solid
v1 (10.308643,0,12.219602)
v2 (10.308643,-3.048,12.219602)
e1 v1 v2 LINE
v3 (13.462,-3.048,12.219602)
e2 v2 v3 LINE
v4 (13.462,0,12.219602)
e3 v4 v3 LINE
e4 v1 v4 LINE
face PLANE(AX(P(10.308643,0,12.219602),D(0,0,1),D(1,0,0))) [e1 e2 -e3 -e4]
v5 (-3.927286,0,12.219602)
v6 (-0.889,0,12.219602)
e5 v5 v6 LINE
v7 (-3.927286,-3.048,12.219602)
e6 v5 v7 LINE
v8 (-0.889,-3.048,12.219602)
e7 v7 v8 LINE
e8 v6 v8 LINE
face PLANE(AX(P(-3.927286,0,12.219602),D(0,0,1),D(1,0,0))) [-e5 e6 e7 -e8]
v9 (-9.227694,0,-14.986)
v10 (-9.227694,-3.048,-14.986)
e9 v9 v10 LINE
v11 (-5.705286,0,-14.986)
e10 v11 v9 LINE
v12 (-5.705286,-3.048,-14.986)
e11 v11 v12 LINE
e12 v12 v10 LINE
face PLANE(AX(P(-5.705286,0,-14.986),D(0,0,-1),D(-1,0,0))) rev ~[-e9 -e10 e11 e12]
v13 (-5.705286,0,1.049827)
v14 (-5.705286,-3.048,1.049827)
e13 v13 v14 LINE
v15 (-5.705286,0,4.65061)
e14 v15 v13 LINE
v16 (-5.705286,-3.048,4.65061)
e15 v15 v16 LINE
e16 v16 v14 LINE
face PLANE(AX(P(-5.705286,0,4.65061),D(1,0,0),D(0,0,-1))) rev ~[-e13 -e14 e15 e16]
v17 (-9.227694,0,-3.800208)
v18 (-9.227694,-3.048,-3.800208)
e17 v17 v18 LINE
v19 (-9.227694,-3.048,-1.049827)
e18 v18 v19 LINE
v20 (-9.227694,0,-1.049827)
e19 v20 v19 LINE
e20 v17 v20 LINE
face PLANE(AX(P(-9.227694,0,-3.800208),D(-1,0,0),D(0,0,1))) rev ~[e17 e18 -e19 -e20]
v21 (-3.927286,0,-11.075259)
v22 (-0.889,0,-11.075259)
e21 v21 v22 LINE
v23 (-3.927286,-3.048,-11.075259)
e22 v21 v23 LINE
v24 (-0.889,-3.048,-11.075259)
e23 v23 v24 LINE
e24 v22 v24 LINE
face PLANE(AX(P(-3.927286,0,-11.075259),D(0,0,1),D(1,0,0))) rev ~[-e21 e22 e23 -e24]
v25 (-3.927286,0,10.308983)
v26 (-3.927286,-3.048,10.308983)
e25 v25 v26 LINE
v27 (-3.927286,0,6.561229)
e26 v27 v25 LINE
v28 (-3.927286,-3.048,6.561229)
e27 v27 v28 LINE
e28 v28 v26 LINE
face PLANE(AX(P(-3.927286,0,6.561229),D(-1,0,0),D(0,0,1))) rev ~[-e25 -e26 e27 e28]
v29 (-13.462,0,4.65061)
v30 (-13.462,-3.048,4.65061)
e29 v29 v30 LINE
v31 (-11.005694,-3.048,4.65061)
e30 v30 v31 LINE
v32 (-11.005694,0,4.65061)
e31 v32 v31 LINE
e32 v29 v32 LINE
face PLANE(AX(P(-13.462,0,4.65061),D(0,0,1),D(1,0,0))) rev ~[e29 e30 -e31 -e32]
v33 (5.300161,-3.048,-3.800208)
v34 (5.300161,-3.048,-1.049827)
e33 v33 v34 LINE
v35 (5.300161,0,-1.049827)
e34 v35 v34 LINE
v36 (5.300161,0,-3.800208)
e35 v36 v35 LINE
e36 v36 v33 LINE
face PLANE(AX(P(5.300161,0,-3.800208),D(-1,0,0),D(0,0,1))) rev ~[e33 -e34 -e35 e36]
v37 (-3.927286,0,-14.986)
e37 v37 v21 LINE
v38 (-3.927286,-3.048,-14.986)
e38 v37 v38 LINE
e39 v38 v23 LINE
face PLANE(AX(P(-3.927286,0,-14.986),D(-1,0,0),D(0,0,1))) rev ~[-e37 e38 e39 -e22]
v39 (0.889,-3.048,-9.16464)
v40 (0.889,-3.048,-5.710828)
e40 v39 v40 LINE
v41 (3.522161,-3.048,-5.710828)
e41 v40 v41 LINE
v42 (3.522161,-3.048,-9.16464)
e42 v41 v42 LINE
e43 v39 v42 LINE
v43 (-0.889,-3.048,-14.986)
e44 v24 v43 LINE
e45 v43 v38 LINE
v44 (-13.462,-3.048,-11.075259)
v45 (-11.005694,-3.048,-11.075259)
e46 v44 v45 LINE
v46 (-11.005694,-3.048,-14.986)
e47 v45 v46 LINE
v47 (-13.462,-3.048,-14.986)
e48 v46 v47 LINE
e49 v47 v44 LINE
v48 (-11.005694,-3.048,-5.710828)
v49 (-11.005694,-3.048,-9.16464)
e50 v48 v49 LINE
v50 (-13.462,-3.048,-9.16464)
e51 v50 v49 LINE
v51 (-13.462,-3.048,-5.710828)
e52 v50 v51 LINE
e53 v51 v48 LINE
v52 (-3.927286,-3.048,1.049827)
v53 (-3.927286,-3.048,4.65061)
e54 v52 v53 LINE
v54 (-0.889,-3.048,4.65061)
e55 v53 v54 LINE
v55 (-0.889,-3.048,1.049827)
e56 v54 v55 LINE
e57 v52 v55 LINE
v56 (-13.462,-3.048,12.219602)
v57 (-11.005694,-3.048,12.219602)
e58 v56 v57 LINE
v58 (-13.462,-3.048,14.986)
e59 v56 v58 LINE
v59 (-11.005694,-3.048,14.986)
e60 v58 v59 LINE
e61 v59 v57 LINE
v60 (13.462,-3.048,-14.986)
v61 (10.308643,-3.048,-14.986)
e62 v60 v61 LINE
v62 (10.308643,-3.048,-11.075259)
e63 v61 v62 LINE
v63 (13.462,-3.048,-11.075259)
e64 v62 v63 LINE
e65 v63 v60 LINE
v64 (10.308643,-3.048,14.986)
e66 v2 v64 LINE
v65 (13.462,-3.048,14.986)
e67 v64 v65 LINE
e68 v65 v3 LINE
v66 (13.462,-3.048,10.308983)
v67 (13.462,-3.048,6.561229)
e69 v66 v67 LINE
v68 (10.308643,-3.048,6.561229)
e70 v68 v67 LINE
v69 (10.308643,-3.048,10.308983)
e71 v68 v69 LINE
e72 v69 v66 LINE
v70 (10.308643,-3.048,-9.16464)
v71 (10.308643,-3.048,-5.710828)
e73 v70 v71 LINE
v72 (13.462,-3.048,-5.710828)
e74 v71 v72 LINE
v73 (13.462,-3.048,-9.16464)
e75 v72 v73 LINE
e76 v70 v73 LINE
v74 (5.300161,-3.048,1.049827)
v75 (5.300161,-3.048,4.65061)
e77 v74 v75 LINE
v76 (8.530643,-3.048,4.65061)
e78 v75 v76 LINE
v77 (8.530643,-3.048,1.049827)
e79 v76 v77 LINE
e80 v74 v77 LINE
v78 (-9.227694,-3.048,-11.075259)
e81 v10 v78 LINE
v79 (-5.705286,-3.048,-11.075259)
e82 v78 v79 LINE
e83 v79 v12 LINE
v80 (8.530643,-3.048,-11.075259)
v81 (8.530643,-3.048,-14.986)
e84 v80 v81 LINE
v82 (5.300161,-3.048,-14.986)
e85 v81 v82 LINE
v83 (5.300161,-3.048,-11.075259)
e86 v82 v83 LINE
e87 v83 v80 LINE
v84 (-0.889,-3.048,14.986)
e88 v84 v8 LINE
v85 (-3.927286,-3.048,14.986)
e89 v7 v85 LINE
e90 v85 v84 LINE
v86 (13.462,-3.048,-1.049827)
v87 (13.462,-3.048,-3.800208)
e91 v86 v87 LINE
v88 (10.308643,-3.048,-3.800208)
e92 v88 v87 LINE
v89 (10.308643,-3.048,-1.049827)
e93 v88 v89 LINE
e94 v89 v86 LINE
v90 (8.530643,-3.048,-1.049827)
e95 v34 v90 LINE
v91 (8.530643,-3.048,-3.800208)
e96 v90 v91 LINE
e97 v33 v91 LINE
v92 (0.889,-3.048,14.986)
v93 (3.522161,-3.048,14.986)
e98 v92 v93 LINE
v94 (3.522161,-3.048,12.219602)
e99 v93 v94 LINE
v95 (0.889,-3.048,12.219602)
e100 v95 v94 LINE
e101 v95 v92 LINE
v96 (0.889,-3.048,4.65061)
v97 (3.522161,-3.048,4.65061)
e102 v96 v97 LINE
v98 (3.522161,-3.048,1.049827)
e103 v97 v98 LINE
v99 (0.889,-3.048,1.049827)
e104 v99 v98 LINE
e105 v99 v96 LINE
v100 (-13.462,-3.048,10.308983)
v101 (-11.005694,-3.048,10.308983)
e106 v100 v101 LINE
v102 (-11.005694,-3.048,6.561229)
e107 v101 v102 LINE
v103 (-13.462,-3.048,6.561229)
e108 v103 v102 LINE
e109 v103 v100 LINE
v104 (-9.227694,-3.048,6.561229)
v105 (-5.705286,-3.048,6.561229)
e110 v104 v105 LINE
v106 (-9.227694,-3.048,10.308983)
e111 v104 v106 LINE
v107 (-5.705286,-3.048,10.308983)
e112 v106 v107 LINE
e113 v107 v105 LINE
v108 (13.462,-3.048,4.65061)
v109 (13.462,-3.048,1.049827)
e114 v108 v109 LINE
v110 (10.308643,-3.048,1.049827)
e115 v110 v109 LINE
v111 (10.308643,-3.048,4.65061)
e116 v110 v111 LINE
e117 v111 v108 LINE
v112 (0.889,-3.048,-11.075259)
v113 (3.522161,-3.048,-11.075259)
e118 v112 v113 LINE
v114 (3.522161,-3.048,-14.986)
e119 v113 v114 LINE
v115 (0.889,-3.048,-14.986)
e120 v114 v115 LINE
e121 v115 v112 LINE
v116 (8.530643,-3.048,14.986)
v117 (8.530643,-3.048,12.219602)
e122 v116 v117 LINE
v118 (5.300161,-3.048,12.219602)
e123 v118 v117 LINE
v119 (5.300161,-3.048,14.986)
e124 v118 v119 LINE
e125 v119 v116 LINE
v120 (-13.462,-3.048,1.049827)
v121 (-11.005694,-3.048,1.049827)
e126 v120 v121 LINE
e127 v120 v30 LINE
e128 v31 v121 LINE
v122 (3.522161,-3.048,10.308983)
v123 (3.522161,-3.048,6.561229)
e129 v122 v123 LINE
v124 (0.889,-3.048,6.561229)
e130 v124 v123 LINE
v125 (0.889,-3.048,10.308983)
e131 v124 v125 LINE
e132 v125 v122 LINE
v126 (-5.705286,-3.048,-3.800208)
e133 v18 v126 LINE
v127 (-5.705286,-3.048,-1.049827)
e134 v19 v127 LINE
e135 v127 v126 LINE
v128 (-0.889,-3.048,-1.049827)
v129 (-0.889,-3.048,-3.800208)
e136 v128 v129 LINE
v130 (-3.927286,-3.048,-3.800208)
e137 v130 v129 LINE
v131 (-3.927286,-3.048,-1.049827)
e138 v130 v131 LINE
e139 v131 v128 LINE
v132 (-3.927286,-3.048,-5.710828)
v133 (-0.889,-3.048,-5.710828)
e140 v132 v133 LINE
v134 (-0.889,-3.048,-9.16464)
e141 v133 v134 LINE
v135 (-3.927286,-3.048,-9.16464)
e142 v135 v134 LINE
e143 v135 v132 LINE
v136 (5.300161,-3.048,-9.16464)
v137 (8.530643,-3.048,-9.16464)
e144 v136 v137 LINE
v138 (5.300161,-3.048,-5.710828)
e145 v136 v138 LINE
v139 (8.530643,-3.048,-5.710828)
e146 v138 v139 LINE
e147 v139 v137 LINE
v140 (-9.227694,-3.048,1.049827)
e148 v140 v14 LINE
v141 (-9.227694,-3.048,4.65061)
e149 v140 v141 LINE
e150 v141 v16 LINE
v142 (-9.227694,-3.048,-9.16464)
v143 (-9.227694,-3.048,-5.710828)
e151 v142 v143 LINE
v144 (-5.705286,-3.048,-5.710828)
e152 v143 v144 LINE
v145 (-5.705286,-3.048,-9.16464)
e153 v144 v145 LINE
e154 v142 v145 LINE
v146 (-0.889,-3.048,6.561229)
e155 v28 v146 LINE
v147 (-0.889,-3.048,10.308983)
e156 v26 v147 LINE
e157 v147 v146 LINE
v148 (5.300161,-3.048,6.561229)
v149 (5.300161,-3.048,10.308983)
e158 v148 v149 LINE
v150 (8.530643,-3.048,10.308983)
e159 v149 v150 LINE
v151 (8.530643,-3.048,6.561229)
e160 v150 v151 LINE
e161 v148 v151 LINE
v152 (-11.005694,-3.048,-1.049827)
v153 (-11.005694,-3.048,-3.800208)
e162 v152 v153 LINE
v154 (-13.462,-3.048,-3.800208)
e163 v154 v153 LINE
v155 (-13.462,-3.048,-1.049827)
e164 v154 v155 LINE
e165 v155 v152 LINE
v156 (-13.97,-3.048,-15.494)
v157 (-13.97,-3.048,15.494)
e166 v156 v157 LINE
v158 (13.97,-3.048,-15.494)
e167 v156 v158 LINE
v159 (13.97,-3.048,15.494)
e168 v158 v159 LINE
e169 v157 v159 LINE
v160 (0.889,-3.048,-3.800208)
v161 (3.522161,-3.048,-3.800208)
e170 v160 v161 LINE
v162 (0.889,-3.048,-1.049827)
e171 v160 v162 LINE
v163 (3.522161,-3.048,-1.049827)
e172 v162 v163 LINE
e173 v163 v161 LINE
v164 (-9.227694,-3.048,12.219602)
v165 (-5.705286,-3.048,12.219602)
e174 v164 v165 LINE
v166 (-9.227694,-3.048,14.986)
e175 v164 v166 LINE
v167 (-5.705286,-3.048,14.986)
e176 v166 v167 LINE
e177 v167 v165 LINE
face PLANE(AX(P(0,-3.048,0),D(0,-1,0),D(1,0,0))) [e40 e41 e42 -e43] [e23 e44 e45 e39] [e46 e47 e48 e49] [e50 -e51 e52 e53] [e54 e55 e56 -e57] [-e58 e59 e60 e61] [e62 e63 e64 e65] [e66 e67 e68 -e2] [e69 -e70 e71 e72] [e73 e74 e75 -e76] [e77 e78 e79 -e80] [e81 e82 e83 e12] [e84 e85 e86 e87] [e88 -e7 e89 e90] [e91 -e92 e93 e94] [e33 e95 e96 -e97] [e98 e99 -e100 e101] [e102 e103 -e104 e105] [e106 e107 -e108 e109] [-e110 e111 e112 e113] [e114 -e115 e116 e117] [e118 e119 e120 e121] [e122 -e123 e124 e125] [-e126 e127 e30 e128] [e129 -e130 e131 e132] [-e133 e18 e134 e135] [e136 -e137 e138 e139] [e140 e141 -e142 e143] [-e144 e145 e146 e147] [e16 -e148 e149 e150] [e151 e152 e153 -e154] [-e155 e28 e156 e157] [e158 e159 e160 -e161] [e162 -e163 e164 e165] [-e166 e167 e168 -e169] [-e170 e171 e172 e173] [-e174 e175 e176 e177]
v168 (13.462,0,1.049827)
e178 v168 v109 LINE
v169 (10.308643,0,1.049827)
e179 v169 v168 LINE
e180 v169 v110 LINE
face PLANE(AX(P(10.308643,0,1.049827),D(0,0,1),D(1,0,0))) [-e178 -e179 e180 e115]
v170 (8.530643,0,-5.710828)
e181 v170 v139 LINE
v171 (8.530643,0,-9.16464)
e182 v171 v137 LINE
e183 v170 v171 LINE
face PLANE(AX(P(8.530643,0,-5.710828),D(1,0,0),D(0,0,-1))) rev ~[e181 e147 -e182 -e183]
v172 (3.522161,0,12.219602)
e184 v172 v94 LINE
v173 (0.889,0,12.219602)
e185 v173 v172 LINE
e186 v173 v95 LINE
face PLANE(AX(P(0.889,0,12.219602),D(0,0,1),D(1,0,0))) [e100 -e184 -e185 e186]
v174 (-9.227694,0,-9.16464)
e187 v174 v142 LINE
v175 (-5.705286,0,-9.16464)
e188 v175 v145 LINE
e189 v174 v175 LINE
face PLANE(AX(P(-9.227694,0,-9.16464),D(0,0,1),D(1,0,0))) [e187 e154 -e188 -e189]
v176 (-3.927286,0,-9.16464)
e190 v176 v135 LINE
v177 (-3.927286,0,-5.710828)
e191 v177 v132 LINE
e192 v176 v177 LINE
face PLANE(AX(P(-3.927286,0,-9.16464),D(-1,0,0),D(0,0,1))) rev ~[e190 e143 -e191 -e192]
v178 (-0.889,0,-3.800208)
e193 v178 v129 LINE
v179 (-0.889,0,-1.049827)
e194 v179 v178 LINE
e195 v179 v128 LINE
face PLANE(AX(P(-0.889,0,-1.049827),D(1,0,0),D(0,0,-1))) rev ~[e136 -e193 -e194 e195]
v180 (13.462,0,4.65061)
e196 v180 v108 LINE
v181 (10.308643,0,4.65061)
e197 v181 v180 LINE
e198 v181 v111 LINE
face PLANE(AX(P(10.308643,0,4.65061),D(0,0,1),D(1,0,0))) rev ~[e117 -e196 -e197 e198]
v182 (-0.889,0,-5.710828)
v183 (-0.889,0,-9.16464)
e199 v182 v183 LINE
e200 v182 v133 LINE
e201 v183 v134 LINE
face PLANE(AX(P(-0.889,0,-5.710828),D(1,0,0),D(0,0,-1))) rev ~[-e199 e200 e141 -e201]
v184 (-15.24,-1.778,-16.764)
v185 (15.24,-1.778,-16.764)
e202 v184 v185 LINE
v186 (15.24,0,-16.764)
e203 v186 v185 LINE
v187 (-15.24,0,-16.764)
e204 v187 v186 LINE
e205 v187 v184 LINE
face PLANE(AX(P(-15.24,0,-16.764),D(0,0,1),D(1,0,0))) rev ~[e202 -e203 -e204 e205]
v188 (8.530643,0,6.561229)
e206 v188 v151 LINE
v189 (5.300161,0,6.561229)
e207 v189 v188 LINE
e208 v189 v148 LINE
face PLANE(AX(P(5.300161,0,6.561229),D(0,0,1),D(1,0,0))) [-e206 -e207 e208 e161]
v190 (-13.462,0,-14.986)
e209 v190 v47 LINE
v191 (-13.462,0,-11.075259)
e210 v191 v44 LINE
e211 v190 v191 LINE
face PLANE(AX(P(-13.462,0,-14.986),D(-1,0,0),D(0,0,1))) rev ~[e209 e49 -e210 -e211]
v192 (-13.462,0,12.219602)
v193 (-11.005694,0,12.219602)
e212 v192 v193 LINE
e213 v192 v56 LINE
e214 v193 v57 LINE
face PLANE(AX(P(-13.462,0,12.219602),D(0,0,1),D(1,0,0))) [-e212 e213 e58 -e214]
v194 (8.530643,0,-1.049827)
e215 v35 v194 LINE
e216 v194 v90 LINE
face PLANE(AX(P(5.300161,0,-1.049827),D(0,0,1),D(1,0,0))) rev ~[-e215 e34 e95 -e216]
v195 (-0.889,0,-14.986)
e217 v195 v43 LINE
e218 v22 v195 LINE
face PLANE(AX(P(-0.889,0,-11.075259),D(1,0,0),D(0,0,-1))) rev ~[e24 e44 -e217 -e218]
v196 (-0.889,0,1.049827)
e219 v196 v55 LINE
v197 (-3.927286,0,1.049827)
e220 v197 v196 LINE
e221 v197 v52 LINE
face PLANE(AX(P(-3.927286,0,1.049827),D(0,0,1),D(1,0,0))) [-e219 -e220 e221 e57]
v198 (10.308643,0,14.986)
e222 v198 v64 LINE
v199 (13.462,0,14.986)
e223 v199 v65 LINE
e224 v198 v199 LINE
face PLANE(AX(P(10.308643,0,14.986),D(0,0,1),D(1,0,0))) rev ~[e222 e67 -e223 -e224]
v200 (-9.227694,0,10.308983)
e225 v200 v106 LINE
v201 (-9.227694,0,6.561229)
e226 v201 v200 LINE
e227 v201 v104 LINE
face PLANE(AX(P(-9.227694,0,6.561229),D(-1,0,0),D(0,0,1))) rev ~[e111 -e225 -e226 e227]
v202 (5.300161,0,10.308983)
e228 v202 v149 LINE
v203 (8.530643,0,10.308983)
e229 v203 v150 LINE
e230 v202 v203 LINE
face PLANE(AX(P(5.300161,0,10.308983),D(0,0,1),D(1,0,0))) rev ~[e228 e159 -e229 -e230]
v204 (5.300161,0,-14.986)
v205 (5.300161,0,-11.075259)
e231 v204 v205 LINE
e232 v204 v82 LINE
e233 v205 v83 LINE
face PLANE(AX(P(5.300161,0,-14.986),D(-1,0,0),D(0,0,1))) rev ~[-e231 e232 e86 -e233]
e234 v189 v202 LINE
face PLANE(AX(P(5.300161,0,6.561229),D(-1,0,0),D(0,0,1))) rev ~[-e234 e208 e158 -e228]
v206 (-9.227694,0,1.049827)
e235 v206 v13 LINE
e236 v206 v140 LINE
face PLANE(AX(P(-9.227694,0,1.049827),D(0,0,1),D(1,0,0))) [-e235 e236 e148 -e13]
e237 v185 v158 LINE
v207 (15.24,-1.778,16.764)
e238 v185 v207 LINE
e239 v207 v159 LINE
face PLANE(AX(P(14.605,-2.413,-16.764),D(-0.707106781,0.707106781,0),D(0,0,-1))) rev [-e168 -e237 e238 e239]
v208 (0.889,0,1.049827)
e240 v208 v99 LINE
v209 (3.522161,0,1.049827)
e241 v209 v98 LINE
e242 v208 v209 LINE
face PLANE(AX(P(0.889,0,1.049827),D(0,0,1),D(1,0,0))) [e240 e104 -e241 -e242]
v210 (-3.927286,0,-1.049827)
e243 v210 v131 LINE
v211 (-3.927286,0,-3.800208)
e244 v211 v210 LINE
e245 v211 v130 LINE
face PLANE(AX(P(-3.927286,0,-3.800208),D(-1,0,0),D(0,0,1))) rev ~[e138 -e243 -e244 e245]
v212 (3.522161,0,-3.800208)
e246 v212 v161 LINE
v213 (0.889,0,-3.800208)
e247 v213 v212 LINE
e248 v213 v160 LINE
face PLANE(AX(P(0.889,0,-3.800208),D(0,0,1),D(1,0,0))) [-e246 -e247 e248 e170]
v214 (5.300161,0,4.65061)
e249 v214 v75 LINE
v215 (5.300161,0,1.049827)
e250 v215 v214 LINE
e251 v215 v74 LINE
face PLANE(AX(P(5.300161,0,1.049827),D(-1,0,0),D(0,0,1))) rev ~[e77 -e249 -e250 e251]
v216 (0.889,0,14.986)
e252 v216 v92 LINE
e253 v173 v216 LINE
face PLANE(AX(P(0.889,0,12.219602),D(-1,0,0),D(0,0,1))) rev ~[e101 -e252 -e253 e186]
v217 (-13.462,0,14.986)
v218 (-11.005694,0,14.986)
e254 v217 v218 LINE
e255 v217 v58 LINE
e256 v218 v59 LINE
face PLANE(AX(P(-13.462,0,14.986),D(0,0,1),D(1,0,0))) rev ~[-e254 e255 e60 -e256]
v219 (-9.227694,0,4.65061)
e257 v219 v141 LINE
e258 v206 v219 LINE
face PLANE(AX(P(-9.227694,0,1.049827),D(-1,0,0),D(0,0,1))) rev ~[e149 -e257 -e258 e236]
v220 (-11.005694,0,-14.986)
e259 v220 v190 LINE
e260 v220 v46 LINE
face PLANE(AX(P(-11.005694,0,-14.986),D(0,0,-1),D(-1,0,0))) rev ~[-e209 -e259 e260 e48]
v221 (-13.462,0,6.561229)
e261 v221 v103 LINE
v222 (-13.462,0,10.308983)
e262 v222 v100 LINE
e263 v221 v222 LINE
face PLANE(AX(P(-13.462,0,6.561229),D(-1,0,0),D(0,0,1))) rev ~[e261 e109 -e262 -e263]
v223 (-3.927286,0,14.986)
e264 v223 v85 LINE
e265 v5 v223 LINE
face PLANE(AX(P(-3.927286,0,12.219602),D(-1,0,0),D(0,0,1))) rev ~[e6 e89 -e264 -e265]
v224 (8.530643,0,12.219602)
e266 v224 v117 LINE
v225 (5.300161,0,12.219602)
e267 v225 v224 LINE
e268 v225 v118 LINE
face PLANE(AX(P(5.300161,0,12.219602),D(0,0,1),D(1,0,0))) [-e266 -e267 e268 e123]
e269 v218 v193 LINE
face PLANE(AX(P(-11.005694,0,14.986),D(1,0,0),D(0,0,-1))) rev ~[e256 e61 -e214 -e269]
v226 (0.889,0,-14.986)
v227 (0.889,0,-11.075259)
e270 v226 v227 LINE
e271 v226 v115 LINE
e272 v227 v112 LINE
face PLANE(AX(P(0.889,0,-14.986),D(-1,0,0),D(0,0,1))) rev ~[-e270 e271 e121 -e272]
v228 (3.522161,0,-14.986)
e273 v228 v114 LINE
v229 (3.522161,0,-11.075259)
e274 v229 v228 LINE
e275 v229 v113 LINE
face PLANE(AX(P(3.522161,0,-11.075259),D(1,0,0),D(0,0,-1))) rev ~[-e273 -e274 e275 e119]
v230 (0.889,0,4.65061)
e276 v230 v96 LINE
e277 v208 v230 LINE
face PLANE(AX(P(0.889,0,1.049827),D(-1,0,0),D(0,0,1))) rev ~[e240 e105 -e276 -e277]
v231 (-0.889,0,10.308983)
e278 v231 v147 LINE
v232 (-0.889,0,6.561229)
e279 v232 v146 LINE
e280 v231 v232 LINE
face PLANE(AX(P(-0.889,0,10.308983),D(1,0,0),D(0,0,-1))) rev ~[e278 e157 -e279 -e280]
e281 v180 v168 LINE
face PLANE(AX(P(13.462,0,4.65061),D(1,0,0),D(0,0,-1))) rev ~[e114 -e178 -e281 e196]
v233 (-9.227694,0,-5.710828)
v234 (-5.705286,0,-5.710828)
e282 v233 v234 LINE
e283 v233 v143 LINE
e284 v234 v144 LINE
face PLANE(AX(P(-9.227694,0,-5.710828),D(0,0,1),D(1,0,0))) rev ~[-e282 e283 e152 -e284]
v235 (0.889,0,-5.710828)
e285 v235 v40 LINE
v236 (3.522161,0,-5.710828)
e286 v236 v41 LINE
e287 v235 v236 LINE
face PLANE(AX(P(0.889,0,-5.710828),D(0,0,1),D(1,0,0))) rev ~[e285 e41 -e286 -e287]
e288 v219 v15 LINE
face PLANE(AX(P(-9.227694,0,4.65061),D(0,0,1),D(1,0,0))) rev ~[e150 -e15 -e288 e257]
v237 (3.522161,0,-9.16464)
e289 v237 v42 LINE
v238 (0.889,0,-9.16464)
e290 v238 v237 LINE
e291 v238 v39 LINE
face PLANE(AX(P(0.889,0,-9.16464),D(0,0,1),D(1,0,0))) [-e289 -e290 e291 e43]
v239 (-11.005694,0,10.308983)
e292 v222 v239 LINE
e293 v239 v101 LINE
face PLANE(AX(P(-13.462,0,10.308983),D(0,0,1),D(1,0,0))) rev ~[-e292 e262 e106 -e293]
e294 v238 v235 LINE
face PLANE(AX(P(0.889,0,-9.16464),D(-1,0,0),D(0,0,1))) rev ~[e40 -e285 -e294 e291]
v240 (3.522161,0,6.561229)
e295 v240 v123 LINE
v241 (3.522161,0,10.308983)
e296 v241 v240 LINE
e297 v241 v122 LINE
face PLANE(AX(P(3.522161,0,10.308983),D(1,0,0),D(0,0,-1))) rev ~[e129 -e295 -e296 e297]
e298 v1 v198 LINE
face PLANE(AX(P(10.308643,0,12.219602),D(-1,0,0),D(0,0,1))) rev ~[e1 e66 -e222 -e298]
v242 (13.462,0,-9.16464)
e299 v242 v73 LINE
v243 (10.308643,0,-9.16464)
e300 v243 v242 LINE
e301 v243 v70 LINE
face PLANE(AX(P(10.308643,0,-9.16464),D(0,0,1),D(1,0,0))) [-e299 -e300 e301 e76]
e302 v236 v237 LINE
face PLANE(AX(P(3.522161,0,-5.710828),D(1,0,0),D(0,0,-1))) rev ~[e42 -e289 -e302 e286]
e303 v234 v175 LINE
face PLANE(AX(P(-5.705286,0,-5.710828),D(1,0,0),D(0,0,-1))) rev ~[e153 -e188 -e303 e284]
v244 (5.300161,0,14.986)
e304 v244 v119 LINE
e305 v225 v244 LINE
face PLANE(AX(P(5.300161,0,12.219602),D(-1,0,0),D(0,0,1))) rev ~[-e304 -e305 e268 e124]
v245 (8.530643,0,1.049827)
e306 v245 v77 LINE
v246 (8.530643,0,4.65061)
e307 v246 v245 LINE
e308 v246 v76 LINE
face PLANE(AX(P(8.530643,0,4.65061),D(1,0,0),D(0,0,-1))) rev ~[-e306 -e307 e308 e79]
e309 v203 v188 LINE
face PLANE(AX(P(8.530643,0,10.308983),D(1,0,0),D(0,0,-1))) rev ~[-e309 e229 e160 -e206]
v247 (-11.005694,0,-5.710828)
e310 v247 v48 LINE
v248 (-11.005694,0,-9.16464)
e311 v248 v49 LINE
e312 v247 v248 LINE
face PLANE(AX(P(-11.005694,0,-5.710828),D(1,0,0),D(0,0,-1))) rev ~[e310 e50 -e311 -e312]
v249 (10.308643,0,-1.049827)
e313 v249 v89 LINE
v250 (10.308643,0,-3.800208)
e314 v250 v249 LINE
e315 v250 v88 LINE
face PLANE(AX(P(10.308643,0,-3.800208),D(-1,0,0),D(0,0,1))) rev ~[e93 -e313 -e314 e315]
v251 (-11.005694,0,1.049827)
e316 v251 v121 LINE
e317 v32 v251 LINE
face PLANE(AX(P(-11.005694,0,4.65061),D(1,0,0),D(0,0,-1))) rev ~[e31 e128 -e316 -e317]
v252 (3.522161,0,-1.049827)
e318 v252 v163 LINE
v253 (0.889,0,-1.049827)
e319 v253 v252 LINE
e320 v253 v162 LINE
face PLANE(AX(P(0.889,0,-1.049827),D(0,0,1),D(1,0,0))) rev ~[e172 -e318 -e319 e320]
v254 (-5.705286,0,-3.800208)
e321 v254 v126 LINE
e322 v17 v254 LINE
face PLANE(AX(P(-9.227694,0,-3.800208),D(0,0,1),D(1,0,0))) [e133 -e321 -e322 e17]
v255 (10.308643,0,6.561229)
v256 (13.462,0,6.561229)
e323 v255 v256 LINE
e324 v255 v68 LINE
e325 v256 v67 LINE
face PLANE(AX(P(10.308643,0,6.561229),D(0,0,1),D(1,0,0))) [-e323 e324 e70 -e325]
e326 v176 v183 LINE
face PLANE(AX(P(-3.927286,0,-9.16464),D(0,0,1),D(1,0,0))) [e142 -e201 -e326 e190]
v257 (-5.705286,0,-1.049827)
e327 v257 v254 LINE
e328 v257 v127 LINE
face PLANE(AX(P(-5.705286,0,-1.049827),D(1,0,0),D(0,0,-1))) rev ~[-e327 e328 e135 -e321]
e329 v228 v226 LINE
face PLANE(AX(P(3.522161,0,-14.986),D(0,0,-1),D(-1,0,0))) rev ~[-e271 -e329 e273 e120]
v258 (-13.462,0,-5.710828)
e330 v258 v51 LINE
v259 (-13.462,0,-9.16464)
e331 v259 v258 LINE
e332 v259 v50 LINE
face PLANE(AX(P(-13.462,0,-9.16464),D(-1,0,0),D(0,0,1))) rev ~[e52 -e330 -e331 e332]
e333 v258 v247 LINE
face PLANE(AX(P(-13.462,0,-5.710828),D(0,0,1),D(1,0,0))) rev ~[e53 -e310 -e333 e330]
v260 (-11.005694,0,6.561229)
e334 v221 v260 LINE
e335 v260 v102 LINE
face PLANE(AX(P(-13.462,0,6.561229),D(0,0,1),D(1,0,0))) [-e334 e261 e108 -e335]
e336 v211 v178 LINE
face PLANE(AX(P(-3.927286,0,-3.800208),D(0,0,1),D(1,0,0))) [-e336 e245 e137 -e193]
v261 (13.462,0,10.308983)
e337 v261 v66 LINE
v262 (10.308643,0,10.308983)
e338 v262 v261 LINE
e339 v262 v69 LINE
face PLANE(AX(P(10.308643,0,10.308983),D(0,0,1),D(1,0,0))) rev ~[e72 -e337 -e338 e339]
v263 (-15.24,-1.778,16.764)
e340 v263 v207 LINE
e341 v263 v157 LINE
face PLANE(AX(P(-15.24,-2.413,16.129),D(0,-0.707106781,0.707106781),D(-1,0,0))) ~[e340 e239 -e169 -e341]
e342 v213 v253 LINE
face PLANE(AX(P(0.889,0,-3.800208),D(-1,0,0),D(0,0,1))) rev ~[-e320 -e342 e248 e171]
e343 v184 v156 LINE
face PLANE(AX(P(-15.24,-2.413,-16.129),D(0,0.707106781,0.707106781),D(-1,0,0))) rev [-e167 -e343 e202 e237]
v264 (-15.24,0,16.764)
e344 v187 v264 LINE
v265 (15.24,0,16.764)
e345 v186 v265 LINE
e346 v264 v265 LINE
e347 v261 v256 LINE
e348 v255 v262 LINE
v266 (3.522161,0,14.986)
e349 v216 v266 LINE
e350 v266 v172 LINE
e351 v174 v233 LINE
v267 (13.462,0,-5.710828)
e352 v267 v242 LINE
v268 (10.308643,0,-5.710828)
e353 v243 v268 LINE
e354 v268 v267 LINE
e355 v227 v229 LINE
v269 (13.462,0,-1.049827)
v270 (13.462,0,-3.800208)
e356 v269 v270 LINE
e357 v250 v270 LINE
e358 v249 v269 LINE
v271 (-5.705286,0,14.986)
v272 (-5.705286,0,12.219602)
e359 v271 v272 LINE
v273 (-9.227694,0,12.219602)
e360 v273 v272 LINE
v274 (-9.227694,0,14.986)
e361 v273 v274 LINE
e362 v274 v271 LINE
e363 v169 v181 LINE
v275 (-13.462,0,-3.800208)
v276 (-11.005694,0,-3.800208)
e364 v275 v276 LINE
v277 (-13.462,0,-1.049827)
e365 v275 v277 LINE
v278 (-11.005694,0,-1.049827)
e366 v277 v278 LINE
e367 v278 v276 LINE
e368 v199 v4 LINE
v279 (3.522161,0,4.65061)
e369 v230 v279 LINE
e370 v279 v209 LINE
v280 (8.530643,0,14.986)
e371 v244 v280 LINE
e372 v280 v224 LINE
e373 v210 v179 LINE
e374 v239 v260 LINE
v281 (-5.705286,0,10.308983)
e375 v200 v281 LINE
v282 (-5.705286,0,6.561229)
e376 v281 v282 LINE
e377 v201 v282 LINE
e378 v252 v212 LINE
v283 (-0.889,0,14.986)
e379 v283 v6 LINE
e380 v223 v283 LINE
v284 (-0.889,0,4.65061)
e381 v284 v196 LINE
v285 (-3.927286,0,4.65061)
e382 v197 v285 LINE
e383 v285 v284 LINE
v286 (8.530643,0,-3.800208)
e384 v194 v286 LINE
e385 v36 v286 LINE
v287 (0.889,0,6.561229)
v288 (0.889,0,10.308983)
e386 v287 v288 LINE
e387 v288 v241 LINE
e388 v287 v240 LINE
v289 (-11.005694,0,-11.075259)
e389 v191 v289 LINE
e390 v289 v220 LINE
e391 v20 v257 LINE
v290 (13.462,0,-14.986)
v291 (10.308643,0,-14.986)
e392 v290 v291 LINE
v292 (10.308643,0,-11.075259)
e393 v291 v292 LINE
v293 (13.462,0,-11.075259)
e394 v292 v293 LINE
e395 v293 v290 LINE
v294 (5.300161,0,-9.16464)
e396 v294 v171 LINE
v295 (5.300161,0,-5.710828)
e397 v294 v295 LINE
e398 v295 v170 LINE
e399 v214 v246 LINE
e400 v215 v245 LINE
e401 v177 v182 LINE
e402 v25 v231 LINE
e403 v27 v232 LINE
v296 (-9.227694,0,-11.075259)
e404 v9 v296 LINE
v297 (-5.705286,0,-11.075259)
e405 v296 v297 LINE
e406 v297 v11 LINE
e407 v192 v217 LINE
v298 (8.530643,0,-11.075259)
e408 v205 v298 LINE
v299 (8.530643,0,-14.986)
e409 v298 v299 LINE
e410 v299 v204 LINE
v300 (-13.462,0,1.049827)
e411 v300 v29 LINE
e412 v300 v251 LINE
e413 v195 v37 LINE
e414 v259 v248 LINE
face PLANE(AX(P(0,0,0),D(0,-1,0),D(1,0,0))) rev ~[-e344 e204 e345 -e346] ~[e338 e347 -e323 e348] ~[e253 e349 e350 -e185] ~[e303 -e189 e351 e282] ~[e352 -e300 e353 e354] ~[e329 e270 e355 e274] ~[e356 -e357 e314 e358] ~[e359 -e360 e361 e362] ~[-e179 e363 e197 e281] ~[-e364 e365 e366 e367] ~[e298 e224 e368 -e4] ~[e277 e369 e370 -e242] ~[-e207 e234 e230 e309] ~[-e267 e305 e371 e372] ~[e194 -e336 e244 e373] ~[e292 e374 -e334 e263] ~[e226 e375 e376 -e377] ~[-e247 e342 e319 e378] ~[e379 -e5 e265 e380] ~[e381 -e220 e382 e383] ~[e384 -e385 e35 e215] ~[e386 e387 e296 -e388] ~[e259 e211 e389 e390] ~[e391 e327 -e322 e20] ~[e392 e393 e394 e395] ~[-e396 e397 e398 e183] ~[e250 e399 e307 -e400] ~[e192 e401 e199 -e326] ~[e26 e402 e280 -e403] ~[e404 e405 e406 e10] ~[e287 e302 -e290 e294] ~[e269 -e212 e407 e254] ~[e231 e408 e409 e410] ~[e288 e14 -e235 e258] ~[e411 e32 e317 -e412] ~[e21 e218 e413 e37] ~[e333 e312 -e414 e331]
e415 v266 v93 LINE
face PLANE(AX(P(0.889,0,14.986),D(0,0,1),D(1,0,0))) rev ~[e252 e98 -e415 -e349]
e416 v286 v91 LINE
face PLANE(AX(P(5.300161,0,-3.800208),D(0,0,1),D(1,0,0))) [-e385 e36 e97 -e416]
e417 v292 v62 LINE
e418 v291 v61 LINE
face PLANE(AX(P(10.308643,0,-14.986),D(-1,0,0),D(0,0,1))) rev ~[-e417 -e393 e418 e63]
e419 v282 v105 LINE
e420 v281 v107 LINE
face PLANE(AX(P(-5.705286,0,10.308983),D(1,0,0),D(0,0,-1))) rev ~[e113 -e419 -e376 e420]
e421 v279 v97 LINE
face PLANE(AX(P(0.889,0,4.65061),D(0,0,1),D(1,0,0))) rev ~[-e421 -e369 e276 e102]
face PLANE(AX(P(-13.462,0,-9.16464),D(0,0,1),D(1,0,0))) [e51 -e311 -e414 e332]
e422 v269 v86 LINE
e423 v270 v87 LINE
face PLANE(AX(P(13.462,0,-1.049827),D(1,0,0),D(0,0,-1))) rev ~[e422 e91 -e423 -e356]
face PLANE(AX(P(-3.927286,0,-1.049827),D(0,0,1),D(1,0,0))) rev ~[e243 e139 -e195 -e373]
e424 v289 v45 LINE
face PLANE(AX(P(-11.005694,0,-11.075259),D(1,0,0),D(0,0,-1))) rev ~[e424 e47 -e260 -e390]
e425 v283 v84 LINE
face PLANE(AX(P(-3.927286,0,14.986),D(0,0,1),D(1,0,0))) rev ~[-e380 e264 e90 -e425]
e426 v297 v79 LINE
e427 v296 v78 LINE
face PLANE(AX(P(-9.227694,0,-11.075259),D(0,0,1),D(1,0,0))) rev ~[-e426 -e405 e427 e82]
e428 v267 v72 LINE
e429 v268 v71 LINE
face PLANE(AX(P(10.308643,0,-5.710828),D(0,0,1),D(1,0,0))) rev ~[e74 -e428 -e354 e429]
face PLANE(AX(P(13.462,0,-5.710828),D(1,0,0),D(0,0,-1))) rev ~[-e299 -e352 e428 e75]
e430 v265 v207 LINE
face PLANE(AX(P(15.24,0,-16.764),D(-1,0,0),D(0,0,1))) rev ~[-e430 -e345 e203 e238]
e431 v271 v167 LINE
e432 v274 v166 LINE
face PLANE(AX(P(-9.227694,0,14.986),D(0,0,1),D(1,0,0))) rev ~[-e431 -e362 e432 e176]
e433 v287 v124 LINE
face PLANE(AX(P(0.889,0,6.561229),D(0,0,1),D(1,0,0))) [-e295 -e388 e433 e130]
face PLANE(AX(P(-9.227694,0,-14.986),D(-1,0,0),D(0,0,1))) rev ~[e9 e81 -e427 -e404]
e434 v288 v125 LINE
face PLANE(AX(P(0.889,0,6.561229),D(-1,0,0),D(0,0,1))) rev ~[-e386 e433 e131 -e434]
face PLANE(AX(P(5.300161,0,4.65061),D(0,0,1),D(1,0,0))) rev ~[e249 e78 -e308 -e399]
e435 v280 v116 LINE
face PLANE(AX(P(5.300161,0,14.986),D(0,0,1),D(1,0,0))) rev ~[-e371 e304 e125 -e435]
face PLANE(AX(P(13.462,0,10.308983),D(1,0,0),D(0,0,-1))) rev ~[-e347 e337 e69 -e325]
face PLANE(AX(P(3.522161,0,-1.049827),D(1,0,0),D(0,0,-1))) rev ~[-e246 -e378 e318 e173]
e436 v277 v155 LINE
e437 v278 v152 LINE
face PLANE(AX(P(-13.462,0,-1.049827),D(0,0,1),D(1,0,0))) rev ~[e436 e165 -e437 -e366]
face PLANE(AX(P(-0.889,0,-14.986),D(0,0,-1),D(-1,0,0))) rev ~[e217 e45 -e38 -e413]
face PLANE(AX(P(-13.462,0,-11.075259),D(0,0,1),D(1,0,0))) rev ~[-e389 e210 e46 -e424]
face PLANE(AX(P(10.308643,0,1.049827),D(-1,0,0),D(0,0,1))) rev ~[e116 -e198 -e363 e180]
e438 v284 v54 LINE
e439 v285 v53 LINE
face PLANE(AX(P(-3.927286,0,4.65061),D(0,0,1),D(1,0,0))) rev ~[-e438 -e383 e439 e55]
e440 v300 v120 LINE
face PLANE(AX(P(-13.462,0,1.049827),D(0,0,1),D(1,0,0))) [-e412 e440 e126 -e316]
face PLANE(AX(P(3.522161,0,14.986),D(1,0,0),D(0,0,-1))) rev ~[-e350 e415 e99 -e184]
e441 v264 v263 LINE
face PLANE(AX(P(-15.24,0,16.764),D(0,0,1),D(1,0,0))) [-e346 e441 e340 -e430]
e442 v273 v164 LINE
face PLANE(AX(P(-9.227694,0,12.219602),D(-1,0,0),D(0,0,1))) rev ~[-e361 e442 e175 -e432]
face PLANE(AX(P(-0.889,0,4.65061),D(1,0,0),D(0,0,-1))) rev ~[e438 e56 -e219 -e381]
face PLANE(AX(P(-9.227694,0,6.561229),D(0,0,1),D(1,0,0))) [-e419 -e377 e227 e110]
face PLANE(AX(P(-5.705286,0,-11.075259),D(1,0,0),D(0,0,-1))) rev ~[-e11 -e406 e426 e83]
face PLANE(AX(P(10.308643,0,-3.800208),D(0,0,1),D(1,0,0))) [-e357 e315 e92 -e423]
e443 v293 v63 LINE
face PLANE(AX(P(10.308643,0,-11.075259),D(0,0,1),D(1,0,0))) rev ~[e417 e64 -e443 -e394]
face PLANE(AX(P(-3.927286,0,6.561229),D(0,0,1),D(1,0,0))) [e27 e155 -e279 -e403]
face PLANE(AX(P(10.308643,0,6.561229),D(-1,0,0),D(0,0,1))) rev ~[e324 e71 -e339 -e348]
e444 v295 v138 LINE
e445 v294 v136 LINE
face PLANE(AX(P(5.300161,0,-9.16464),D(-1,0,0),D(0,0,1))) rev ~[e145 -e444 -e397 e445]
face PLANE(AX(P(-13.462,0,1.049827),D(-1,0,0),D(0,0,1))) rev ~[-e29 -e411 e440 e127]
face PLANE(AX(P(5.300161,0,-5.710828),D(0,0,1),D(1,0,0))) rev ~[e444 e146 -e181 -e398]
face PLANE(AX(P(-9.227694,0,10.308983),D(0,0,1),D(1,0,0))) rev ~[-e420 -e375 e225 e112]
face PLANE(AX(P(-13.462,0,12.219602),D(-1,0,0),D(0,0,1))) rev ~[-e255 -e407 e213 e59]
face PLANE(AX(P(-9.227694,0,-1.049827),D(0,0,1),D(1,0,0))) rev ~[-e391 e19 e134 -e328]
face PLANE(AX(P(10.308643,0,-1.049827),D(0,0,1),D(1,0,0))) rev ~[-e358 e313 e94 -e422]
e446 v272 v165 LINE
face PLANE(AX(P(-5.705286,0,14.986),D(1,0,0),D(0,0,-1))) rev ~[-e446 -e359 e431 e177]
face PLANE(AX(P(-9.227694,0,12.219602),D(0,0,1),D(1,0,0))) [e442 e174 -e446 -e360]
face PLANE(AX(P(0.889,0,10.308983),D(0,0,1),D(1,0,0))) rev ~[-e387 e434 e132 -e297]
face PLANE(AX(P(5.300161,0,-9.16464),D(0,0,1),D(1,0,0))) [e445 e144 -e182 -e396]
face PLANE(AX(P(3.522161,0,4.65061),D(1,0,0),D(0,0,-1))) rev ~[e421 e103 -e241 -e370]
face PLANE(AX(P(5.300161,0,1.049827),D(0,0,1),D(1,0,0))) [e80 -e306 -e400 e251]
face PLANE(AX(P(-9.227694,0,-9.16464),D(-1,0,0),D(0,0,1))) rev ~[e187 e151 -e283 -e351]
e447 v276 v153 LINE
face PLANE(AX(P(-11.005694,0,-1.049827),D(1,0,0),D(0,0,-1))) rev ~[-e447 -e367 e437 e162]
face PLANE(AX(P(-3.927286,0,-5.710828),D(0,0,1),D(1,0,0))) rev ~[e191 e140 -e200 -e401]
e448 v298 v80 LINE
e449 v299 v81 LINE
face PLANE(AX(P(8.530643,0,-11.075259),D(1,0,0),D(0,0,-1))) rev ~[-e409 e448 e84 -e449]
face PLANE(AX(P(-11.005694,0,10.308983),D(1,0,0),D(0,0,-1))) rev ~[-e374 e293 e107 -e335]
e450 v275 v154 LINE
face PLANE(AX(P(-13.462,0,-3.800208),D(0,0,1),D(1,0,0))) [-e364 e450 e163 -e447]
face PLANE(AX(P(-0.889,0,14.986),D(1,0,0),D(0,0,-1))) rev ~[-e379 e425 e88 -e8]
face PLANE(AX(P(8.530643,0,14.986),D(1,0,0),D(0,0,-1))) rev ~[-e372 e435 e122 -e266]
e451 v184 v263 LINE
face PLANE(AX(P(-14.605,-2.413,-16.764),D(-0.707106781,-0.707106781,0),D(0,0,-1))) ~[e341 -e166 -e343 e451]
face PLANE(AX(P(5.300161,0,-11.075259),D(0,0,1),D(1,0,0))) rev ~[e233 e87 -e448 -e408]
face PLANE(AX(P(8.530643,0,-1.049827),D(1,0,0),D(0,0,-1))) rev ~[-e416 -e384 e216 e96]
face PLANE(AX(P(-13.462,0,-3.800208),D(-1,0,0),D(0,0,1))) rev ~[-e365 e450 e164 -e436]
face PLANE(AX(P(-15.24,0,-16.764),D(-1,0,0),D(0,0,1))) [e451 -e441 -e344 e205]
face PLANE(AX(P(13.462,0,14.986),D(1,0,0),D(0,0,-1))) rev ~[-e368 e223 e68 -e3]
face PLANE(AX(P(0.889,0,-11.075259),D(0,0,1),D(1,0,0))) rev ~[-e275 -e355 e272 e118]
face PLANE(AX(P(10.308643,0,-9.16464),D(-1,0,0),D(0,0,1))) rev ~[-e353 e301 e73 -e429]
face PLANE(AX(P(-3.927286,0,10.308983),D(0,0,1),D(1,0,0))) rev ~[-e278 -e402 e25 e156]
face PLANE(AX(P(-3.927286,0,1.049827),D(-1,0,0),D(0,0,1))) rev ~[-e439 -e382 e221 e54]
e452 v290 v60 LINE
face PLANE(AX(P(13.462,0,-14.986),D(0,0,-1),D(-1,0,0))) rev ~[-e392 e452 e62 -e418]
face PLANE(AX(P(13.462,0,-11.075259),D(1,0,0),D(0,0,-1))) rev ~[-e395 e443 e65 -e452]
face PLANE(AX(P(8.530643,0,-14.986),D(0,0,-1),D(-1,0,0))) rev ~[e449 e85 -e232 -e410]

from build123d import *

# Parameters (mm, degrees)
F0_W     = 30.48
F0_H     = 33.528
F0_W_2   = 1.778
F0_H_2   = 2.7663977579
F0_H_3   = 1.9106194377
F0_H_4   = 3.7477533333
F0_H_5   = 3.6007831804
F0_H_6   = 2.099653706
F0_H_7   = 2.7503813617
F0_H_8   = 3.4538120963
F0_H_9   = 3.9107408137
F0_W_3   = 3.1533570525
F0_W_4   = 3.2304820977
F0_W_5   = 2.6331608498
F0_W_6   = 3.0382862671
F0_W_7   = 3.5224076404
F0_W_8   = 2.4563060925
F1_DEPTH = 3.048
F2_SIZE  = 1.27


with BuildPart() as f1:
    # F0 (on Front) → F1 (new body)
    with BuildSketch(Plane.XZ):
        Rectangle(F0_W, F0_H)
        Polygon((-13.462, 12.2196022421), (-13.462, 14.986), (-11.0056939075, 14.986), (-9.2276939075, 14.986), (-5.7052862671, 14.986), (-3.9272862671, 14.986), (-0.889, 14.986), (0.889, 14.986), (3.5221608498, 14.986), (5.3001608498, 14.986), (8.5306429475, 14.986), (10.3086429475, 14.986), (13.462, 14.986), (13.462, 12.2196022421), (13.462, 10.3089828044), (13.462, 6.5612294711), (13.462, 4.6506100334), (13.462, 1.049826853), (13.462, -1.049826853), (13.462, -3.8002082147), (13.462, -5.7108276524), (13.462, -9.1646397486), (13.462, -11.0752591863), (13.462, -14.986), (10.3086429475, -14.986), (8.5306429475, -14.986), (5.3001608498, -14.986), (3.5221608498, -14.986), (0.889, -14.986), (-0.889, -14.986), (-3.9272862671, -14.986), (-5.7052862671, -14.986), (-9.2276939075, -14.986), (-11.0056939075, -14.986), (-13.462, -14.986), (-13.462, -11.0752591863), (-13.462, -9.1646397486), (-13.462, -5.7108276524), (-13.462, -3.8002082147), (-13.462, -1.049826853), (-13.462, 1.049826853), (-13.462, 4.6506100334), (-13.462, 6.5612294711), (-13.462, 10.3089828044), align=None, mode=Mode.SUBTRACT)
        with Locations((-10.1166939075, 13.6028011211)):
            Rectangle(F0_W_2, F0_H_2)
        with Locations((-10.1166939075, 11.2642925233)):
            Rectangle(F0_W_2, F0_H_3)
        with Locations((-10.1166939075, 8.4351061378)):
            Rectangle(F0_W_2, F0_H_4)
        with Locations((-10.1166939075, 5.6059197523)):
            Rectangle(F0_W_2, F0_H_3)
        with Locations((-10.1166939075, 2.8502184432)):
            Rectangle(F0_W_2, F0_H_5)
        with Locations((-10.1166939075, 0)):
            Rectangle(F0_W_2, F0_H_6)
        with Locations((-10.1166939075, -2.4250175338)):
            Rectangle(F0_W_2, F0_H_7)
        with Locations((-10.1166939075, -4.7555179335)):
            Rectangle(F0_W_2, F0_H_3)
        with Locations((-10.1166939075, -7.4377337005)):
            Rectangle(F0_W_2, F0_H_8)
        with Locations((-10.1166939075, -10.1199494675)):
            Rectangle(F0_W_2, F0_H_3)
        with Locations((-10.1166939075, -13.0306295932)):
            Rectangle(F0_W_2, F0_H_9)
        with Locations((-4.8162862671, -13.0306295932)):
            Rectangle(F0_W_2, F0_H_9)
        with Locations((-4.8162862671, -10.1199494675)):
            Rectangle(F0_W_2, F0_H_3)
        with Locations((-4.8162862671, -7.4377337005)):
            Rectangle(F0_W_2, F0_H_8)
        with Locations((-4.8162862671, -4.7555179335)):
            Rectangle(F0_W_2, F0_H_3)
        with Locations((-4.8162862671, -2.4250175338)):
            Rectangle(F0_W_2, F0_H_7)
        with Locations((-4.8162862671, 0)):
            Rectangle(F0_W_2, F0_H_6)
        with Locations((-4.8162862671, 2.8502184432)):
            Rectangle(F0_W_2, F0_H_5)
        with Locations((-4.8162862671, 5.6059197523)):
            Rectangle(F0_W_2, F0_H_3)
        with Locations((-4.8162862671, 8.4351061378)):
            Rectangle(F0_W_2, F0_H_4)
        with Locations((-4.8162862671, 11.2642925233)):
            Rectangle(F0_W_2, F0_H_3)
        with Locations((-4.8162862671, 13.6028011211)):
            Rectangle(F0_W_2, F0_H_2)
        with Locations((0, 13.6028011211)):
            Rectangle(F0_W_2, F0_H_2)
        with Locations((0, 11.2642925233)):
            Rectangle(F0_W_2, F0_H_3)
        with Locations((0, 8.4351061378)):
            Rectangle(F0_W_2, F0_H_4)
        with Locations((0, 5.6059197523)):
            Rectangle(F0_W_2, F0_H_3)
        with Locations((0, 2.8502184432)):
            Rectangle(F0_W_2, F0_H_5)
        Rectangle(F0_W_2, F0_H_6)
        with Locations((0, -2.4250175338)):
            Rectangle(F0_W_2, F0_H_7)
        with Locations((0, -4.7555179335)):
            Rectangle(F0_W_2, F0_H_3)
        with Locations((0, -7.4377337005)):
            Rectangle(F0_W_2, F0_H_8)
        with Locations((0, -10.1199494675)):
            Rectangle(F0_W_2, F0_H_3)
        with Locations((0, -13.0306295932)):
            Rectangle(F0_W_2, F0_H_9)
        with Locations((4.4111608498, -13.0306295932)):
            Rectangle(F0_W_2, F0_H_9)
        with Locations((4.4111608498, -10.1199494675)):
            Rectangle(F0_W_2, F0_H_3)
        with Locations((4.4111608498, -7.4377337005)):
            Rectangle(F0_W_2, F0_H_8)
        with Locations((4.4111608498, -4.7555179335)):
            Rectangle(F0_W_2, F0_H_3)
        with Locations((4.4111608498, -2.4250175338)):
            Rectangle(F0_W_2, F0_H_7)
        with Locations((4.4111608498, 0)):
            Rectangle(F0_W_2, F0_H_6)
        with Locations((4.4111608498, 2.8502184432)):
            Rectangle(F0_W_2, F0_H_5)
        with Locations((4.4111608498, 5.6059197523)):
            Rectangle(F0_W_2, F0_H_3)
        with Locations((4.4111608498, 8.4351061378)):
            Rectangle(F0_W_2, F0_H_4)
        with Locations((4.4111608498, 11.2642925233)):
            Rectangle(F0_W_2, F0_H_3)
        with Locations((4.4111608498, 13.6028011211)):
            Rectangle(F0_W_2, F0_H_2)
        with Locations((9.4196429475, 13.6028011211)):
            Rectangle(F0_W_2, F0_H_2)
        with Locations((9.4196429475, 11.2642925233)):
            Rectangle(F0_W_2, F0_H_3)
        with Locations((9.4196429475, 8.4351061378)):
            Rectangle(F0_W_2, F0_H_4)
        with Locations((9.4196429475, 5.6059197523)):
            Rectangle(F0_W_2, F0_H_3)
        with Locations((9.4196429475, 2.8502184432)):
            Rectangle(F0_W_2, F0_H_5)
        with Locations((9.4196429475, 0)):
            Rectangle(F0_W_2, F0_H_6)
        with Locations((9.4196429475, -2.4250175338)):
            Rectangle(F0_W_2, F0_H_7)
        with Locations((9.4196429475, -4.7555179335)):
            Rectangle(F0_W_2, F0_H_3)
        with Locations((9.4196429475, -7.4377337005)):
            Rectangle(F0_W_2, F0_H_8)
        with Locations((9.4196429475, -10.1199494675)):
            Rectangle(F0_W_2, F0_H_3)
        with Locations((9.4196429475, -13.0306295932)):
            Rectangle(F0_W_2, F0_H_9)
        with Locations((11.8853214738, -10.1199494675)):
            Rectangle(F0_W_3, F0_H_3)
        with Locations((6.9154018987, -10.1199494675)):
            Rectangle(F0_W_4, F0_H_3)
        with Locations((2.2055804249, -10.1199494675)):
            Rectangle(F0_W_5, F0_H_3)
        with Locations((-2.4081431336, -10.1199494675)):
            Rectangle(F0_W_6, F0_H_3)
        with Locations((-7.4664900873, -10.1199494675)):
            Rectangle(F0_W_7, F0_H_3)
        with Locations((-12.2338469538, -10.1199494675)):
            Rectangle(F0_W_8, F0_H_3)
        with Locations((-12.2338469538, -4.7555179335)):
            Rectangle(F0_W_8, F0_H_3)
        with Locations((-7.4664900873, -4.7555179335)):
            Rectangle(F0_W_7, F0_H_3)
        with Locations((-2.4081431336, -4.7555179335)):
            Rectangle(F0_W_6, F0_H_3)
        with Locations((2.2055804249, -4.7555179335)):
            Rectangle(F0_W_5, F0_H_3)
        with Locations((6.9154018987, -4.7555179335)):
            Rectangle(F0_W_4, F0_H_3)
        with Locations((11.8853214738, -4.7555179335)):
            Rectangle(F0_W_3, F0_H_3)
        with Locations((11.8853214738, 0)):
            Rectangle(F0_W_3, F0_H_6)
        with Locations((6.9154018987, 0)):
            Rectangle(F0_W_4, F0_H_6)
        with Locations((2.2055804249, 0)):
            Rectangle(F0_W_5, F0_H_6)
        with Locations((-2.4081431336, 0)):
            Rectangle(F0_W_6, F0_H_6)
        with Locations((-7.4664900873, 0)):
            Rectangle(F0_W_7, F0_H_6)
        with Locations((-12.2338469538, 0)):
            Rectangle(F0_W_8, F0_H_6)
        with Locations((-12.2338469538, 5.6059197523)):
            Rectangle(F0_W_8, F0_H_3)
        with Locations((-7.4664900873, 5.6059197523)):
            Rectangle(F0_W_7, F0_H_3)
        with Locations((-2.4081431336, 5.6059197523)):
            Rectangle(F0_W_6, F0_H_3)
        with Locations((2.2055804249, 5.6059197523)):
            Rectangle(F0_W_5, F0_H_3)
        with Locations((6.9154018987, 5.6059197523)):
            Rectangle(F0_W_4, F0_H_3)
        with Locations((11.8853214738, 5.6059197523)):
            Rectangle(F0_W_3, F0_H_3)
        with Locations((11.8853214738, 11.2642925233)):
            Rectangle(F0_W_3, F0_H_3)
        with Locations((6.9154018987, 11.2642925233)):
            Rectangle(F0_W_4, F0_H_3)
        with Locations((2.2055804249, 11.2642925233)):
            Rectangle(F0_W_5, F0_H_3)
        with Locations((-2.4081431336, 11.2642925233)):
            Rectangle(F0_W_6, F0_H_3)
        with Locations((-7.4664900873, 11.2642925233)):
            Rectangle(F0_W_7, F0_H_3)
        with Locations((-12.2338469538, 11.2642925233)):
            Rectangle(F0_W_8, F0_H_3)
    extrude(amount=F1_DEPTH)

    # F2
    f2_edges = [f1.edges().sort_by_distance(p)[0] for p in [
        (-15.24, -3.048, 0),
        (0, -3.048, -16.764),
        (15.24, -3.048, 0),
        (0, -3.048, 16.764),
    ]]
    chamfer(f2_edges, length=F2_SIZE)


solid = f1.part
